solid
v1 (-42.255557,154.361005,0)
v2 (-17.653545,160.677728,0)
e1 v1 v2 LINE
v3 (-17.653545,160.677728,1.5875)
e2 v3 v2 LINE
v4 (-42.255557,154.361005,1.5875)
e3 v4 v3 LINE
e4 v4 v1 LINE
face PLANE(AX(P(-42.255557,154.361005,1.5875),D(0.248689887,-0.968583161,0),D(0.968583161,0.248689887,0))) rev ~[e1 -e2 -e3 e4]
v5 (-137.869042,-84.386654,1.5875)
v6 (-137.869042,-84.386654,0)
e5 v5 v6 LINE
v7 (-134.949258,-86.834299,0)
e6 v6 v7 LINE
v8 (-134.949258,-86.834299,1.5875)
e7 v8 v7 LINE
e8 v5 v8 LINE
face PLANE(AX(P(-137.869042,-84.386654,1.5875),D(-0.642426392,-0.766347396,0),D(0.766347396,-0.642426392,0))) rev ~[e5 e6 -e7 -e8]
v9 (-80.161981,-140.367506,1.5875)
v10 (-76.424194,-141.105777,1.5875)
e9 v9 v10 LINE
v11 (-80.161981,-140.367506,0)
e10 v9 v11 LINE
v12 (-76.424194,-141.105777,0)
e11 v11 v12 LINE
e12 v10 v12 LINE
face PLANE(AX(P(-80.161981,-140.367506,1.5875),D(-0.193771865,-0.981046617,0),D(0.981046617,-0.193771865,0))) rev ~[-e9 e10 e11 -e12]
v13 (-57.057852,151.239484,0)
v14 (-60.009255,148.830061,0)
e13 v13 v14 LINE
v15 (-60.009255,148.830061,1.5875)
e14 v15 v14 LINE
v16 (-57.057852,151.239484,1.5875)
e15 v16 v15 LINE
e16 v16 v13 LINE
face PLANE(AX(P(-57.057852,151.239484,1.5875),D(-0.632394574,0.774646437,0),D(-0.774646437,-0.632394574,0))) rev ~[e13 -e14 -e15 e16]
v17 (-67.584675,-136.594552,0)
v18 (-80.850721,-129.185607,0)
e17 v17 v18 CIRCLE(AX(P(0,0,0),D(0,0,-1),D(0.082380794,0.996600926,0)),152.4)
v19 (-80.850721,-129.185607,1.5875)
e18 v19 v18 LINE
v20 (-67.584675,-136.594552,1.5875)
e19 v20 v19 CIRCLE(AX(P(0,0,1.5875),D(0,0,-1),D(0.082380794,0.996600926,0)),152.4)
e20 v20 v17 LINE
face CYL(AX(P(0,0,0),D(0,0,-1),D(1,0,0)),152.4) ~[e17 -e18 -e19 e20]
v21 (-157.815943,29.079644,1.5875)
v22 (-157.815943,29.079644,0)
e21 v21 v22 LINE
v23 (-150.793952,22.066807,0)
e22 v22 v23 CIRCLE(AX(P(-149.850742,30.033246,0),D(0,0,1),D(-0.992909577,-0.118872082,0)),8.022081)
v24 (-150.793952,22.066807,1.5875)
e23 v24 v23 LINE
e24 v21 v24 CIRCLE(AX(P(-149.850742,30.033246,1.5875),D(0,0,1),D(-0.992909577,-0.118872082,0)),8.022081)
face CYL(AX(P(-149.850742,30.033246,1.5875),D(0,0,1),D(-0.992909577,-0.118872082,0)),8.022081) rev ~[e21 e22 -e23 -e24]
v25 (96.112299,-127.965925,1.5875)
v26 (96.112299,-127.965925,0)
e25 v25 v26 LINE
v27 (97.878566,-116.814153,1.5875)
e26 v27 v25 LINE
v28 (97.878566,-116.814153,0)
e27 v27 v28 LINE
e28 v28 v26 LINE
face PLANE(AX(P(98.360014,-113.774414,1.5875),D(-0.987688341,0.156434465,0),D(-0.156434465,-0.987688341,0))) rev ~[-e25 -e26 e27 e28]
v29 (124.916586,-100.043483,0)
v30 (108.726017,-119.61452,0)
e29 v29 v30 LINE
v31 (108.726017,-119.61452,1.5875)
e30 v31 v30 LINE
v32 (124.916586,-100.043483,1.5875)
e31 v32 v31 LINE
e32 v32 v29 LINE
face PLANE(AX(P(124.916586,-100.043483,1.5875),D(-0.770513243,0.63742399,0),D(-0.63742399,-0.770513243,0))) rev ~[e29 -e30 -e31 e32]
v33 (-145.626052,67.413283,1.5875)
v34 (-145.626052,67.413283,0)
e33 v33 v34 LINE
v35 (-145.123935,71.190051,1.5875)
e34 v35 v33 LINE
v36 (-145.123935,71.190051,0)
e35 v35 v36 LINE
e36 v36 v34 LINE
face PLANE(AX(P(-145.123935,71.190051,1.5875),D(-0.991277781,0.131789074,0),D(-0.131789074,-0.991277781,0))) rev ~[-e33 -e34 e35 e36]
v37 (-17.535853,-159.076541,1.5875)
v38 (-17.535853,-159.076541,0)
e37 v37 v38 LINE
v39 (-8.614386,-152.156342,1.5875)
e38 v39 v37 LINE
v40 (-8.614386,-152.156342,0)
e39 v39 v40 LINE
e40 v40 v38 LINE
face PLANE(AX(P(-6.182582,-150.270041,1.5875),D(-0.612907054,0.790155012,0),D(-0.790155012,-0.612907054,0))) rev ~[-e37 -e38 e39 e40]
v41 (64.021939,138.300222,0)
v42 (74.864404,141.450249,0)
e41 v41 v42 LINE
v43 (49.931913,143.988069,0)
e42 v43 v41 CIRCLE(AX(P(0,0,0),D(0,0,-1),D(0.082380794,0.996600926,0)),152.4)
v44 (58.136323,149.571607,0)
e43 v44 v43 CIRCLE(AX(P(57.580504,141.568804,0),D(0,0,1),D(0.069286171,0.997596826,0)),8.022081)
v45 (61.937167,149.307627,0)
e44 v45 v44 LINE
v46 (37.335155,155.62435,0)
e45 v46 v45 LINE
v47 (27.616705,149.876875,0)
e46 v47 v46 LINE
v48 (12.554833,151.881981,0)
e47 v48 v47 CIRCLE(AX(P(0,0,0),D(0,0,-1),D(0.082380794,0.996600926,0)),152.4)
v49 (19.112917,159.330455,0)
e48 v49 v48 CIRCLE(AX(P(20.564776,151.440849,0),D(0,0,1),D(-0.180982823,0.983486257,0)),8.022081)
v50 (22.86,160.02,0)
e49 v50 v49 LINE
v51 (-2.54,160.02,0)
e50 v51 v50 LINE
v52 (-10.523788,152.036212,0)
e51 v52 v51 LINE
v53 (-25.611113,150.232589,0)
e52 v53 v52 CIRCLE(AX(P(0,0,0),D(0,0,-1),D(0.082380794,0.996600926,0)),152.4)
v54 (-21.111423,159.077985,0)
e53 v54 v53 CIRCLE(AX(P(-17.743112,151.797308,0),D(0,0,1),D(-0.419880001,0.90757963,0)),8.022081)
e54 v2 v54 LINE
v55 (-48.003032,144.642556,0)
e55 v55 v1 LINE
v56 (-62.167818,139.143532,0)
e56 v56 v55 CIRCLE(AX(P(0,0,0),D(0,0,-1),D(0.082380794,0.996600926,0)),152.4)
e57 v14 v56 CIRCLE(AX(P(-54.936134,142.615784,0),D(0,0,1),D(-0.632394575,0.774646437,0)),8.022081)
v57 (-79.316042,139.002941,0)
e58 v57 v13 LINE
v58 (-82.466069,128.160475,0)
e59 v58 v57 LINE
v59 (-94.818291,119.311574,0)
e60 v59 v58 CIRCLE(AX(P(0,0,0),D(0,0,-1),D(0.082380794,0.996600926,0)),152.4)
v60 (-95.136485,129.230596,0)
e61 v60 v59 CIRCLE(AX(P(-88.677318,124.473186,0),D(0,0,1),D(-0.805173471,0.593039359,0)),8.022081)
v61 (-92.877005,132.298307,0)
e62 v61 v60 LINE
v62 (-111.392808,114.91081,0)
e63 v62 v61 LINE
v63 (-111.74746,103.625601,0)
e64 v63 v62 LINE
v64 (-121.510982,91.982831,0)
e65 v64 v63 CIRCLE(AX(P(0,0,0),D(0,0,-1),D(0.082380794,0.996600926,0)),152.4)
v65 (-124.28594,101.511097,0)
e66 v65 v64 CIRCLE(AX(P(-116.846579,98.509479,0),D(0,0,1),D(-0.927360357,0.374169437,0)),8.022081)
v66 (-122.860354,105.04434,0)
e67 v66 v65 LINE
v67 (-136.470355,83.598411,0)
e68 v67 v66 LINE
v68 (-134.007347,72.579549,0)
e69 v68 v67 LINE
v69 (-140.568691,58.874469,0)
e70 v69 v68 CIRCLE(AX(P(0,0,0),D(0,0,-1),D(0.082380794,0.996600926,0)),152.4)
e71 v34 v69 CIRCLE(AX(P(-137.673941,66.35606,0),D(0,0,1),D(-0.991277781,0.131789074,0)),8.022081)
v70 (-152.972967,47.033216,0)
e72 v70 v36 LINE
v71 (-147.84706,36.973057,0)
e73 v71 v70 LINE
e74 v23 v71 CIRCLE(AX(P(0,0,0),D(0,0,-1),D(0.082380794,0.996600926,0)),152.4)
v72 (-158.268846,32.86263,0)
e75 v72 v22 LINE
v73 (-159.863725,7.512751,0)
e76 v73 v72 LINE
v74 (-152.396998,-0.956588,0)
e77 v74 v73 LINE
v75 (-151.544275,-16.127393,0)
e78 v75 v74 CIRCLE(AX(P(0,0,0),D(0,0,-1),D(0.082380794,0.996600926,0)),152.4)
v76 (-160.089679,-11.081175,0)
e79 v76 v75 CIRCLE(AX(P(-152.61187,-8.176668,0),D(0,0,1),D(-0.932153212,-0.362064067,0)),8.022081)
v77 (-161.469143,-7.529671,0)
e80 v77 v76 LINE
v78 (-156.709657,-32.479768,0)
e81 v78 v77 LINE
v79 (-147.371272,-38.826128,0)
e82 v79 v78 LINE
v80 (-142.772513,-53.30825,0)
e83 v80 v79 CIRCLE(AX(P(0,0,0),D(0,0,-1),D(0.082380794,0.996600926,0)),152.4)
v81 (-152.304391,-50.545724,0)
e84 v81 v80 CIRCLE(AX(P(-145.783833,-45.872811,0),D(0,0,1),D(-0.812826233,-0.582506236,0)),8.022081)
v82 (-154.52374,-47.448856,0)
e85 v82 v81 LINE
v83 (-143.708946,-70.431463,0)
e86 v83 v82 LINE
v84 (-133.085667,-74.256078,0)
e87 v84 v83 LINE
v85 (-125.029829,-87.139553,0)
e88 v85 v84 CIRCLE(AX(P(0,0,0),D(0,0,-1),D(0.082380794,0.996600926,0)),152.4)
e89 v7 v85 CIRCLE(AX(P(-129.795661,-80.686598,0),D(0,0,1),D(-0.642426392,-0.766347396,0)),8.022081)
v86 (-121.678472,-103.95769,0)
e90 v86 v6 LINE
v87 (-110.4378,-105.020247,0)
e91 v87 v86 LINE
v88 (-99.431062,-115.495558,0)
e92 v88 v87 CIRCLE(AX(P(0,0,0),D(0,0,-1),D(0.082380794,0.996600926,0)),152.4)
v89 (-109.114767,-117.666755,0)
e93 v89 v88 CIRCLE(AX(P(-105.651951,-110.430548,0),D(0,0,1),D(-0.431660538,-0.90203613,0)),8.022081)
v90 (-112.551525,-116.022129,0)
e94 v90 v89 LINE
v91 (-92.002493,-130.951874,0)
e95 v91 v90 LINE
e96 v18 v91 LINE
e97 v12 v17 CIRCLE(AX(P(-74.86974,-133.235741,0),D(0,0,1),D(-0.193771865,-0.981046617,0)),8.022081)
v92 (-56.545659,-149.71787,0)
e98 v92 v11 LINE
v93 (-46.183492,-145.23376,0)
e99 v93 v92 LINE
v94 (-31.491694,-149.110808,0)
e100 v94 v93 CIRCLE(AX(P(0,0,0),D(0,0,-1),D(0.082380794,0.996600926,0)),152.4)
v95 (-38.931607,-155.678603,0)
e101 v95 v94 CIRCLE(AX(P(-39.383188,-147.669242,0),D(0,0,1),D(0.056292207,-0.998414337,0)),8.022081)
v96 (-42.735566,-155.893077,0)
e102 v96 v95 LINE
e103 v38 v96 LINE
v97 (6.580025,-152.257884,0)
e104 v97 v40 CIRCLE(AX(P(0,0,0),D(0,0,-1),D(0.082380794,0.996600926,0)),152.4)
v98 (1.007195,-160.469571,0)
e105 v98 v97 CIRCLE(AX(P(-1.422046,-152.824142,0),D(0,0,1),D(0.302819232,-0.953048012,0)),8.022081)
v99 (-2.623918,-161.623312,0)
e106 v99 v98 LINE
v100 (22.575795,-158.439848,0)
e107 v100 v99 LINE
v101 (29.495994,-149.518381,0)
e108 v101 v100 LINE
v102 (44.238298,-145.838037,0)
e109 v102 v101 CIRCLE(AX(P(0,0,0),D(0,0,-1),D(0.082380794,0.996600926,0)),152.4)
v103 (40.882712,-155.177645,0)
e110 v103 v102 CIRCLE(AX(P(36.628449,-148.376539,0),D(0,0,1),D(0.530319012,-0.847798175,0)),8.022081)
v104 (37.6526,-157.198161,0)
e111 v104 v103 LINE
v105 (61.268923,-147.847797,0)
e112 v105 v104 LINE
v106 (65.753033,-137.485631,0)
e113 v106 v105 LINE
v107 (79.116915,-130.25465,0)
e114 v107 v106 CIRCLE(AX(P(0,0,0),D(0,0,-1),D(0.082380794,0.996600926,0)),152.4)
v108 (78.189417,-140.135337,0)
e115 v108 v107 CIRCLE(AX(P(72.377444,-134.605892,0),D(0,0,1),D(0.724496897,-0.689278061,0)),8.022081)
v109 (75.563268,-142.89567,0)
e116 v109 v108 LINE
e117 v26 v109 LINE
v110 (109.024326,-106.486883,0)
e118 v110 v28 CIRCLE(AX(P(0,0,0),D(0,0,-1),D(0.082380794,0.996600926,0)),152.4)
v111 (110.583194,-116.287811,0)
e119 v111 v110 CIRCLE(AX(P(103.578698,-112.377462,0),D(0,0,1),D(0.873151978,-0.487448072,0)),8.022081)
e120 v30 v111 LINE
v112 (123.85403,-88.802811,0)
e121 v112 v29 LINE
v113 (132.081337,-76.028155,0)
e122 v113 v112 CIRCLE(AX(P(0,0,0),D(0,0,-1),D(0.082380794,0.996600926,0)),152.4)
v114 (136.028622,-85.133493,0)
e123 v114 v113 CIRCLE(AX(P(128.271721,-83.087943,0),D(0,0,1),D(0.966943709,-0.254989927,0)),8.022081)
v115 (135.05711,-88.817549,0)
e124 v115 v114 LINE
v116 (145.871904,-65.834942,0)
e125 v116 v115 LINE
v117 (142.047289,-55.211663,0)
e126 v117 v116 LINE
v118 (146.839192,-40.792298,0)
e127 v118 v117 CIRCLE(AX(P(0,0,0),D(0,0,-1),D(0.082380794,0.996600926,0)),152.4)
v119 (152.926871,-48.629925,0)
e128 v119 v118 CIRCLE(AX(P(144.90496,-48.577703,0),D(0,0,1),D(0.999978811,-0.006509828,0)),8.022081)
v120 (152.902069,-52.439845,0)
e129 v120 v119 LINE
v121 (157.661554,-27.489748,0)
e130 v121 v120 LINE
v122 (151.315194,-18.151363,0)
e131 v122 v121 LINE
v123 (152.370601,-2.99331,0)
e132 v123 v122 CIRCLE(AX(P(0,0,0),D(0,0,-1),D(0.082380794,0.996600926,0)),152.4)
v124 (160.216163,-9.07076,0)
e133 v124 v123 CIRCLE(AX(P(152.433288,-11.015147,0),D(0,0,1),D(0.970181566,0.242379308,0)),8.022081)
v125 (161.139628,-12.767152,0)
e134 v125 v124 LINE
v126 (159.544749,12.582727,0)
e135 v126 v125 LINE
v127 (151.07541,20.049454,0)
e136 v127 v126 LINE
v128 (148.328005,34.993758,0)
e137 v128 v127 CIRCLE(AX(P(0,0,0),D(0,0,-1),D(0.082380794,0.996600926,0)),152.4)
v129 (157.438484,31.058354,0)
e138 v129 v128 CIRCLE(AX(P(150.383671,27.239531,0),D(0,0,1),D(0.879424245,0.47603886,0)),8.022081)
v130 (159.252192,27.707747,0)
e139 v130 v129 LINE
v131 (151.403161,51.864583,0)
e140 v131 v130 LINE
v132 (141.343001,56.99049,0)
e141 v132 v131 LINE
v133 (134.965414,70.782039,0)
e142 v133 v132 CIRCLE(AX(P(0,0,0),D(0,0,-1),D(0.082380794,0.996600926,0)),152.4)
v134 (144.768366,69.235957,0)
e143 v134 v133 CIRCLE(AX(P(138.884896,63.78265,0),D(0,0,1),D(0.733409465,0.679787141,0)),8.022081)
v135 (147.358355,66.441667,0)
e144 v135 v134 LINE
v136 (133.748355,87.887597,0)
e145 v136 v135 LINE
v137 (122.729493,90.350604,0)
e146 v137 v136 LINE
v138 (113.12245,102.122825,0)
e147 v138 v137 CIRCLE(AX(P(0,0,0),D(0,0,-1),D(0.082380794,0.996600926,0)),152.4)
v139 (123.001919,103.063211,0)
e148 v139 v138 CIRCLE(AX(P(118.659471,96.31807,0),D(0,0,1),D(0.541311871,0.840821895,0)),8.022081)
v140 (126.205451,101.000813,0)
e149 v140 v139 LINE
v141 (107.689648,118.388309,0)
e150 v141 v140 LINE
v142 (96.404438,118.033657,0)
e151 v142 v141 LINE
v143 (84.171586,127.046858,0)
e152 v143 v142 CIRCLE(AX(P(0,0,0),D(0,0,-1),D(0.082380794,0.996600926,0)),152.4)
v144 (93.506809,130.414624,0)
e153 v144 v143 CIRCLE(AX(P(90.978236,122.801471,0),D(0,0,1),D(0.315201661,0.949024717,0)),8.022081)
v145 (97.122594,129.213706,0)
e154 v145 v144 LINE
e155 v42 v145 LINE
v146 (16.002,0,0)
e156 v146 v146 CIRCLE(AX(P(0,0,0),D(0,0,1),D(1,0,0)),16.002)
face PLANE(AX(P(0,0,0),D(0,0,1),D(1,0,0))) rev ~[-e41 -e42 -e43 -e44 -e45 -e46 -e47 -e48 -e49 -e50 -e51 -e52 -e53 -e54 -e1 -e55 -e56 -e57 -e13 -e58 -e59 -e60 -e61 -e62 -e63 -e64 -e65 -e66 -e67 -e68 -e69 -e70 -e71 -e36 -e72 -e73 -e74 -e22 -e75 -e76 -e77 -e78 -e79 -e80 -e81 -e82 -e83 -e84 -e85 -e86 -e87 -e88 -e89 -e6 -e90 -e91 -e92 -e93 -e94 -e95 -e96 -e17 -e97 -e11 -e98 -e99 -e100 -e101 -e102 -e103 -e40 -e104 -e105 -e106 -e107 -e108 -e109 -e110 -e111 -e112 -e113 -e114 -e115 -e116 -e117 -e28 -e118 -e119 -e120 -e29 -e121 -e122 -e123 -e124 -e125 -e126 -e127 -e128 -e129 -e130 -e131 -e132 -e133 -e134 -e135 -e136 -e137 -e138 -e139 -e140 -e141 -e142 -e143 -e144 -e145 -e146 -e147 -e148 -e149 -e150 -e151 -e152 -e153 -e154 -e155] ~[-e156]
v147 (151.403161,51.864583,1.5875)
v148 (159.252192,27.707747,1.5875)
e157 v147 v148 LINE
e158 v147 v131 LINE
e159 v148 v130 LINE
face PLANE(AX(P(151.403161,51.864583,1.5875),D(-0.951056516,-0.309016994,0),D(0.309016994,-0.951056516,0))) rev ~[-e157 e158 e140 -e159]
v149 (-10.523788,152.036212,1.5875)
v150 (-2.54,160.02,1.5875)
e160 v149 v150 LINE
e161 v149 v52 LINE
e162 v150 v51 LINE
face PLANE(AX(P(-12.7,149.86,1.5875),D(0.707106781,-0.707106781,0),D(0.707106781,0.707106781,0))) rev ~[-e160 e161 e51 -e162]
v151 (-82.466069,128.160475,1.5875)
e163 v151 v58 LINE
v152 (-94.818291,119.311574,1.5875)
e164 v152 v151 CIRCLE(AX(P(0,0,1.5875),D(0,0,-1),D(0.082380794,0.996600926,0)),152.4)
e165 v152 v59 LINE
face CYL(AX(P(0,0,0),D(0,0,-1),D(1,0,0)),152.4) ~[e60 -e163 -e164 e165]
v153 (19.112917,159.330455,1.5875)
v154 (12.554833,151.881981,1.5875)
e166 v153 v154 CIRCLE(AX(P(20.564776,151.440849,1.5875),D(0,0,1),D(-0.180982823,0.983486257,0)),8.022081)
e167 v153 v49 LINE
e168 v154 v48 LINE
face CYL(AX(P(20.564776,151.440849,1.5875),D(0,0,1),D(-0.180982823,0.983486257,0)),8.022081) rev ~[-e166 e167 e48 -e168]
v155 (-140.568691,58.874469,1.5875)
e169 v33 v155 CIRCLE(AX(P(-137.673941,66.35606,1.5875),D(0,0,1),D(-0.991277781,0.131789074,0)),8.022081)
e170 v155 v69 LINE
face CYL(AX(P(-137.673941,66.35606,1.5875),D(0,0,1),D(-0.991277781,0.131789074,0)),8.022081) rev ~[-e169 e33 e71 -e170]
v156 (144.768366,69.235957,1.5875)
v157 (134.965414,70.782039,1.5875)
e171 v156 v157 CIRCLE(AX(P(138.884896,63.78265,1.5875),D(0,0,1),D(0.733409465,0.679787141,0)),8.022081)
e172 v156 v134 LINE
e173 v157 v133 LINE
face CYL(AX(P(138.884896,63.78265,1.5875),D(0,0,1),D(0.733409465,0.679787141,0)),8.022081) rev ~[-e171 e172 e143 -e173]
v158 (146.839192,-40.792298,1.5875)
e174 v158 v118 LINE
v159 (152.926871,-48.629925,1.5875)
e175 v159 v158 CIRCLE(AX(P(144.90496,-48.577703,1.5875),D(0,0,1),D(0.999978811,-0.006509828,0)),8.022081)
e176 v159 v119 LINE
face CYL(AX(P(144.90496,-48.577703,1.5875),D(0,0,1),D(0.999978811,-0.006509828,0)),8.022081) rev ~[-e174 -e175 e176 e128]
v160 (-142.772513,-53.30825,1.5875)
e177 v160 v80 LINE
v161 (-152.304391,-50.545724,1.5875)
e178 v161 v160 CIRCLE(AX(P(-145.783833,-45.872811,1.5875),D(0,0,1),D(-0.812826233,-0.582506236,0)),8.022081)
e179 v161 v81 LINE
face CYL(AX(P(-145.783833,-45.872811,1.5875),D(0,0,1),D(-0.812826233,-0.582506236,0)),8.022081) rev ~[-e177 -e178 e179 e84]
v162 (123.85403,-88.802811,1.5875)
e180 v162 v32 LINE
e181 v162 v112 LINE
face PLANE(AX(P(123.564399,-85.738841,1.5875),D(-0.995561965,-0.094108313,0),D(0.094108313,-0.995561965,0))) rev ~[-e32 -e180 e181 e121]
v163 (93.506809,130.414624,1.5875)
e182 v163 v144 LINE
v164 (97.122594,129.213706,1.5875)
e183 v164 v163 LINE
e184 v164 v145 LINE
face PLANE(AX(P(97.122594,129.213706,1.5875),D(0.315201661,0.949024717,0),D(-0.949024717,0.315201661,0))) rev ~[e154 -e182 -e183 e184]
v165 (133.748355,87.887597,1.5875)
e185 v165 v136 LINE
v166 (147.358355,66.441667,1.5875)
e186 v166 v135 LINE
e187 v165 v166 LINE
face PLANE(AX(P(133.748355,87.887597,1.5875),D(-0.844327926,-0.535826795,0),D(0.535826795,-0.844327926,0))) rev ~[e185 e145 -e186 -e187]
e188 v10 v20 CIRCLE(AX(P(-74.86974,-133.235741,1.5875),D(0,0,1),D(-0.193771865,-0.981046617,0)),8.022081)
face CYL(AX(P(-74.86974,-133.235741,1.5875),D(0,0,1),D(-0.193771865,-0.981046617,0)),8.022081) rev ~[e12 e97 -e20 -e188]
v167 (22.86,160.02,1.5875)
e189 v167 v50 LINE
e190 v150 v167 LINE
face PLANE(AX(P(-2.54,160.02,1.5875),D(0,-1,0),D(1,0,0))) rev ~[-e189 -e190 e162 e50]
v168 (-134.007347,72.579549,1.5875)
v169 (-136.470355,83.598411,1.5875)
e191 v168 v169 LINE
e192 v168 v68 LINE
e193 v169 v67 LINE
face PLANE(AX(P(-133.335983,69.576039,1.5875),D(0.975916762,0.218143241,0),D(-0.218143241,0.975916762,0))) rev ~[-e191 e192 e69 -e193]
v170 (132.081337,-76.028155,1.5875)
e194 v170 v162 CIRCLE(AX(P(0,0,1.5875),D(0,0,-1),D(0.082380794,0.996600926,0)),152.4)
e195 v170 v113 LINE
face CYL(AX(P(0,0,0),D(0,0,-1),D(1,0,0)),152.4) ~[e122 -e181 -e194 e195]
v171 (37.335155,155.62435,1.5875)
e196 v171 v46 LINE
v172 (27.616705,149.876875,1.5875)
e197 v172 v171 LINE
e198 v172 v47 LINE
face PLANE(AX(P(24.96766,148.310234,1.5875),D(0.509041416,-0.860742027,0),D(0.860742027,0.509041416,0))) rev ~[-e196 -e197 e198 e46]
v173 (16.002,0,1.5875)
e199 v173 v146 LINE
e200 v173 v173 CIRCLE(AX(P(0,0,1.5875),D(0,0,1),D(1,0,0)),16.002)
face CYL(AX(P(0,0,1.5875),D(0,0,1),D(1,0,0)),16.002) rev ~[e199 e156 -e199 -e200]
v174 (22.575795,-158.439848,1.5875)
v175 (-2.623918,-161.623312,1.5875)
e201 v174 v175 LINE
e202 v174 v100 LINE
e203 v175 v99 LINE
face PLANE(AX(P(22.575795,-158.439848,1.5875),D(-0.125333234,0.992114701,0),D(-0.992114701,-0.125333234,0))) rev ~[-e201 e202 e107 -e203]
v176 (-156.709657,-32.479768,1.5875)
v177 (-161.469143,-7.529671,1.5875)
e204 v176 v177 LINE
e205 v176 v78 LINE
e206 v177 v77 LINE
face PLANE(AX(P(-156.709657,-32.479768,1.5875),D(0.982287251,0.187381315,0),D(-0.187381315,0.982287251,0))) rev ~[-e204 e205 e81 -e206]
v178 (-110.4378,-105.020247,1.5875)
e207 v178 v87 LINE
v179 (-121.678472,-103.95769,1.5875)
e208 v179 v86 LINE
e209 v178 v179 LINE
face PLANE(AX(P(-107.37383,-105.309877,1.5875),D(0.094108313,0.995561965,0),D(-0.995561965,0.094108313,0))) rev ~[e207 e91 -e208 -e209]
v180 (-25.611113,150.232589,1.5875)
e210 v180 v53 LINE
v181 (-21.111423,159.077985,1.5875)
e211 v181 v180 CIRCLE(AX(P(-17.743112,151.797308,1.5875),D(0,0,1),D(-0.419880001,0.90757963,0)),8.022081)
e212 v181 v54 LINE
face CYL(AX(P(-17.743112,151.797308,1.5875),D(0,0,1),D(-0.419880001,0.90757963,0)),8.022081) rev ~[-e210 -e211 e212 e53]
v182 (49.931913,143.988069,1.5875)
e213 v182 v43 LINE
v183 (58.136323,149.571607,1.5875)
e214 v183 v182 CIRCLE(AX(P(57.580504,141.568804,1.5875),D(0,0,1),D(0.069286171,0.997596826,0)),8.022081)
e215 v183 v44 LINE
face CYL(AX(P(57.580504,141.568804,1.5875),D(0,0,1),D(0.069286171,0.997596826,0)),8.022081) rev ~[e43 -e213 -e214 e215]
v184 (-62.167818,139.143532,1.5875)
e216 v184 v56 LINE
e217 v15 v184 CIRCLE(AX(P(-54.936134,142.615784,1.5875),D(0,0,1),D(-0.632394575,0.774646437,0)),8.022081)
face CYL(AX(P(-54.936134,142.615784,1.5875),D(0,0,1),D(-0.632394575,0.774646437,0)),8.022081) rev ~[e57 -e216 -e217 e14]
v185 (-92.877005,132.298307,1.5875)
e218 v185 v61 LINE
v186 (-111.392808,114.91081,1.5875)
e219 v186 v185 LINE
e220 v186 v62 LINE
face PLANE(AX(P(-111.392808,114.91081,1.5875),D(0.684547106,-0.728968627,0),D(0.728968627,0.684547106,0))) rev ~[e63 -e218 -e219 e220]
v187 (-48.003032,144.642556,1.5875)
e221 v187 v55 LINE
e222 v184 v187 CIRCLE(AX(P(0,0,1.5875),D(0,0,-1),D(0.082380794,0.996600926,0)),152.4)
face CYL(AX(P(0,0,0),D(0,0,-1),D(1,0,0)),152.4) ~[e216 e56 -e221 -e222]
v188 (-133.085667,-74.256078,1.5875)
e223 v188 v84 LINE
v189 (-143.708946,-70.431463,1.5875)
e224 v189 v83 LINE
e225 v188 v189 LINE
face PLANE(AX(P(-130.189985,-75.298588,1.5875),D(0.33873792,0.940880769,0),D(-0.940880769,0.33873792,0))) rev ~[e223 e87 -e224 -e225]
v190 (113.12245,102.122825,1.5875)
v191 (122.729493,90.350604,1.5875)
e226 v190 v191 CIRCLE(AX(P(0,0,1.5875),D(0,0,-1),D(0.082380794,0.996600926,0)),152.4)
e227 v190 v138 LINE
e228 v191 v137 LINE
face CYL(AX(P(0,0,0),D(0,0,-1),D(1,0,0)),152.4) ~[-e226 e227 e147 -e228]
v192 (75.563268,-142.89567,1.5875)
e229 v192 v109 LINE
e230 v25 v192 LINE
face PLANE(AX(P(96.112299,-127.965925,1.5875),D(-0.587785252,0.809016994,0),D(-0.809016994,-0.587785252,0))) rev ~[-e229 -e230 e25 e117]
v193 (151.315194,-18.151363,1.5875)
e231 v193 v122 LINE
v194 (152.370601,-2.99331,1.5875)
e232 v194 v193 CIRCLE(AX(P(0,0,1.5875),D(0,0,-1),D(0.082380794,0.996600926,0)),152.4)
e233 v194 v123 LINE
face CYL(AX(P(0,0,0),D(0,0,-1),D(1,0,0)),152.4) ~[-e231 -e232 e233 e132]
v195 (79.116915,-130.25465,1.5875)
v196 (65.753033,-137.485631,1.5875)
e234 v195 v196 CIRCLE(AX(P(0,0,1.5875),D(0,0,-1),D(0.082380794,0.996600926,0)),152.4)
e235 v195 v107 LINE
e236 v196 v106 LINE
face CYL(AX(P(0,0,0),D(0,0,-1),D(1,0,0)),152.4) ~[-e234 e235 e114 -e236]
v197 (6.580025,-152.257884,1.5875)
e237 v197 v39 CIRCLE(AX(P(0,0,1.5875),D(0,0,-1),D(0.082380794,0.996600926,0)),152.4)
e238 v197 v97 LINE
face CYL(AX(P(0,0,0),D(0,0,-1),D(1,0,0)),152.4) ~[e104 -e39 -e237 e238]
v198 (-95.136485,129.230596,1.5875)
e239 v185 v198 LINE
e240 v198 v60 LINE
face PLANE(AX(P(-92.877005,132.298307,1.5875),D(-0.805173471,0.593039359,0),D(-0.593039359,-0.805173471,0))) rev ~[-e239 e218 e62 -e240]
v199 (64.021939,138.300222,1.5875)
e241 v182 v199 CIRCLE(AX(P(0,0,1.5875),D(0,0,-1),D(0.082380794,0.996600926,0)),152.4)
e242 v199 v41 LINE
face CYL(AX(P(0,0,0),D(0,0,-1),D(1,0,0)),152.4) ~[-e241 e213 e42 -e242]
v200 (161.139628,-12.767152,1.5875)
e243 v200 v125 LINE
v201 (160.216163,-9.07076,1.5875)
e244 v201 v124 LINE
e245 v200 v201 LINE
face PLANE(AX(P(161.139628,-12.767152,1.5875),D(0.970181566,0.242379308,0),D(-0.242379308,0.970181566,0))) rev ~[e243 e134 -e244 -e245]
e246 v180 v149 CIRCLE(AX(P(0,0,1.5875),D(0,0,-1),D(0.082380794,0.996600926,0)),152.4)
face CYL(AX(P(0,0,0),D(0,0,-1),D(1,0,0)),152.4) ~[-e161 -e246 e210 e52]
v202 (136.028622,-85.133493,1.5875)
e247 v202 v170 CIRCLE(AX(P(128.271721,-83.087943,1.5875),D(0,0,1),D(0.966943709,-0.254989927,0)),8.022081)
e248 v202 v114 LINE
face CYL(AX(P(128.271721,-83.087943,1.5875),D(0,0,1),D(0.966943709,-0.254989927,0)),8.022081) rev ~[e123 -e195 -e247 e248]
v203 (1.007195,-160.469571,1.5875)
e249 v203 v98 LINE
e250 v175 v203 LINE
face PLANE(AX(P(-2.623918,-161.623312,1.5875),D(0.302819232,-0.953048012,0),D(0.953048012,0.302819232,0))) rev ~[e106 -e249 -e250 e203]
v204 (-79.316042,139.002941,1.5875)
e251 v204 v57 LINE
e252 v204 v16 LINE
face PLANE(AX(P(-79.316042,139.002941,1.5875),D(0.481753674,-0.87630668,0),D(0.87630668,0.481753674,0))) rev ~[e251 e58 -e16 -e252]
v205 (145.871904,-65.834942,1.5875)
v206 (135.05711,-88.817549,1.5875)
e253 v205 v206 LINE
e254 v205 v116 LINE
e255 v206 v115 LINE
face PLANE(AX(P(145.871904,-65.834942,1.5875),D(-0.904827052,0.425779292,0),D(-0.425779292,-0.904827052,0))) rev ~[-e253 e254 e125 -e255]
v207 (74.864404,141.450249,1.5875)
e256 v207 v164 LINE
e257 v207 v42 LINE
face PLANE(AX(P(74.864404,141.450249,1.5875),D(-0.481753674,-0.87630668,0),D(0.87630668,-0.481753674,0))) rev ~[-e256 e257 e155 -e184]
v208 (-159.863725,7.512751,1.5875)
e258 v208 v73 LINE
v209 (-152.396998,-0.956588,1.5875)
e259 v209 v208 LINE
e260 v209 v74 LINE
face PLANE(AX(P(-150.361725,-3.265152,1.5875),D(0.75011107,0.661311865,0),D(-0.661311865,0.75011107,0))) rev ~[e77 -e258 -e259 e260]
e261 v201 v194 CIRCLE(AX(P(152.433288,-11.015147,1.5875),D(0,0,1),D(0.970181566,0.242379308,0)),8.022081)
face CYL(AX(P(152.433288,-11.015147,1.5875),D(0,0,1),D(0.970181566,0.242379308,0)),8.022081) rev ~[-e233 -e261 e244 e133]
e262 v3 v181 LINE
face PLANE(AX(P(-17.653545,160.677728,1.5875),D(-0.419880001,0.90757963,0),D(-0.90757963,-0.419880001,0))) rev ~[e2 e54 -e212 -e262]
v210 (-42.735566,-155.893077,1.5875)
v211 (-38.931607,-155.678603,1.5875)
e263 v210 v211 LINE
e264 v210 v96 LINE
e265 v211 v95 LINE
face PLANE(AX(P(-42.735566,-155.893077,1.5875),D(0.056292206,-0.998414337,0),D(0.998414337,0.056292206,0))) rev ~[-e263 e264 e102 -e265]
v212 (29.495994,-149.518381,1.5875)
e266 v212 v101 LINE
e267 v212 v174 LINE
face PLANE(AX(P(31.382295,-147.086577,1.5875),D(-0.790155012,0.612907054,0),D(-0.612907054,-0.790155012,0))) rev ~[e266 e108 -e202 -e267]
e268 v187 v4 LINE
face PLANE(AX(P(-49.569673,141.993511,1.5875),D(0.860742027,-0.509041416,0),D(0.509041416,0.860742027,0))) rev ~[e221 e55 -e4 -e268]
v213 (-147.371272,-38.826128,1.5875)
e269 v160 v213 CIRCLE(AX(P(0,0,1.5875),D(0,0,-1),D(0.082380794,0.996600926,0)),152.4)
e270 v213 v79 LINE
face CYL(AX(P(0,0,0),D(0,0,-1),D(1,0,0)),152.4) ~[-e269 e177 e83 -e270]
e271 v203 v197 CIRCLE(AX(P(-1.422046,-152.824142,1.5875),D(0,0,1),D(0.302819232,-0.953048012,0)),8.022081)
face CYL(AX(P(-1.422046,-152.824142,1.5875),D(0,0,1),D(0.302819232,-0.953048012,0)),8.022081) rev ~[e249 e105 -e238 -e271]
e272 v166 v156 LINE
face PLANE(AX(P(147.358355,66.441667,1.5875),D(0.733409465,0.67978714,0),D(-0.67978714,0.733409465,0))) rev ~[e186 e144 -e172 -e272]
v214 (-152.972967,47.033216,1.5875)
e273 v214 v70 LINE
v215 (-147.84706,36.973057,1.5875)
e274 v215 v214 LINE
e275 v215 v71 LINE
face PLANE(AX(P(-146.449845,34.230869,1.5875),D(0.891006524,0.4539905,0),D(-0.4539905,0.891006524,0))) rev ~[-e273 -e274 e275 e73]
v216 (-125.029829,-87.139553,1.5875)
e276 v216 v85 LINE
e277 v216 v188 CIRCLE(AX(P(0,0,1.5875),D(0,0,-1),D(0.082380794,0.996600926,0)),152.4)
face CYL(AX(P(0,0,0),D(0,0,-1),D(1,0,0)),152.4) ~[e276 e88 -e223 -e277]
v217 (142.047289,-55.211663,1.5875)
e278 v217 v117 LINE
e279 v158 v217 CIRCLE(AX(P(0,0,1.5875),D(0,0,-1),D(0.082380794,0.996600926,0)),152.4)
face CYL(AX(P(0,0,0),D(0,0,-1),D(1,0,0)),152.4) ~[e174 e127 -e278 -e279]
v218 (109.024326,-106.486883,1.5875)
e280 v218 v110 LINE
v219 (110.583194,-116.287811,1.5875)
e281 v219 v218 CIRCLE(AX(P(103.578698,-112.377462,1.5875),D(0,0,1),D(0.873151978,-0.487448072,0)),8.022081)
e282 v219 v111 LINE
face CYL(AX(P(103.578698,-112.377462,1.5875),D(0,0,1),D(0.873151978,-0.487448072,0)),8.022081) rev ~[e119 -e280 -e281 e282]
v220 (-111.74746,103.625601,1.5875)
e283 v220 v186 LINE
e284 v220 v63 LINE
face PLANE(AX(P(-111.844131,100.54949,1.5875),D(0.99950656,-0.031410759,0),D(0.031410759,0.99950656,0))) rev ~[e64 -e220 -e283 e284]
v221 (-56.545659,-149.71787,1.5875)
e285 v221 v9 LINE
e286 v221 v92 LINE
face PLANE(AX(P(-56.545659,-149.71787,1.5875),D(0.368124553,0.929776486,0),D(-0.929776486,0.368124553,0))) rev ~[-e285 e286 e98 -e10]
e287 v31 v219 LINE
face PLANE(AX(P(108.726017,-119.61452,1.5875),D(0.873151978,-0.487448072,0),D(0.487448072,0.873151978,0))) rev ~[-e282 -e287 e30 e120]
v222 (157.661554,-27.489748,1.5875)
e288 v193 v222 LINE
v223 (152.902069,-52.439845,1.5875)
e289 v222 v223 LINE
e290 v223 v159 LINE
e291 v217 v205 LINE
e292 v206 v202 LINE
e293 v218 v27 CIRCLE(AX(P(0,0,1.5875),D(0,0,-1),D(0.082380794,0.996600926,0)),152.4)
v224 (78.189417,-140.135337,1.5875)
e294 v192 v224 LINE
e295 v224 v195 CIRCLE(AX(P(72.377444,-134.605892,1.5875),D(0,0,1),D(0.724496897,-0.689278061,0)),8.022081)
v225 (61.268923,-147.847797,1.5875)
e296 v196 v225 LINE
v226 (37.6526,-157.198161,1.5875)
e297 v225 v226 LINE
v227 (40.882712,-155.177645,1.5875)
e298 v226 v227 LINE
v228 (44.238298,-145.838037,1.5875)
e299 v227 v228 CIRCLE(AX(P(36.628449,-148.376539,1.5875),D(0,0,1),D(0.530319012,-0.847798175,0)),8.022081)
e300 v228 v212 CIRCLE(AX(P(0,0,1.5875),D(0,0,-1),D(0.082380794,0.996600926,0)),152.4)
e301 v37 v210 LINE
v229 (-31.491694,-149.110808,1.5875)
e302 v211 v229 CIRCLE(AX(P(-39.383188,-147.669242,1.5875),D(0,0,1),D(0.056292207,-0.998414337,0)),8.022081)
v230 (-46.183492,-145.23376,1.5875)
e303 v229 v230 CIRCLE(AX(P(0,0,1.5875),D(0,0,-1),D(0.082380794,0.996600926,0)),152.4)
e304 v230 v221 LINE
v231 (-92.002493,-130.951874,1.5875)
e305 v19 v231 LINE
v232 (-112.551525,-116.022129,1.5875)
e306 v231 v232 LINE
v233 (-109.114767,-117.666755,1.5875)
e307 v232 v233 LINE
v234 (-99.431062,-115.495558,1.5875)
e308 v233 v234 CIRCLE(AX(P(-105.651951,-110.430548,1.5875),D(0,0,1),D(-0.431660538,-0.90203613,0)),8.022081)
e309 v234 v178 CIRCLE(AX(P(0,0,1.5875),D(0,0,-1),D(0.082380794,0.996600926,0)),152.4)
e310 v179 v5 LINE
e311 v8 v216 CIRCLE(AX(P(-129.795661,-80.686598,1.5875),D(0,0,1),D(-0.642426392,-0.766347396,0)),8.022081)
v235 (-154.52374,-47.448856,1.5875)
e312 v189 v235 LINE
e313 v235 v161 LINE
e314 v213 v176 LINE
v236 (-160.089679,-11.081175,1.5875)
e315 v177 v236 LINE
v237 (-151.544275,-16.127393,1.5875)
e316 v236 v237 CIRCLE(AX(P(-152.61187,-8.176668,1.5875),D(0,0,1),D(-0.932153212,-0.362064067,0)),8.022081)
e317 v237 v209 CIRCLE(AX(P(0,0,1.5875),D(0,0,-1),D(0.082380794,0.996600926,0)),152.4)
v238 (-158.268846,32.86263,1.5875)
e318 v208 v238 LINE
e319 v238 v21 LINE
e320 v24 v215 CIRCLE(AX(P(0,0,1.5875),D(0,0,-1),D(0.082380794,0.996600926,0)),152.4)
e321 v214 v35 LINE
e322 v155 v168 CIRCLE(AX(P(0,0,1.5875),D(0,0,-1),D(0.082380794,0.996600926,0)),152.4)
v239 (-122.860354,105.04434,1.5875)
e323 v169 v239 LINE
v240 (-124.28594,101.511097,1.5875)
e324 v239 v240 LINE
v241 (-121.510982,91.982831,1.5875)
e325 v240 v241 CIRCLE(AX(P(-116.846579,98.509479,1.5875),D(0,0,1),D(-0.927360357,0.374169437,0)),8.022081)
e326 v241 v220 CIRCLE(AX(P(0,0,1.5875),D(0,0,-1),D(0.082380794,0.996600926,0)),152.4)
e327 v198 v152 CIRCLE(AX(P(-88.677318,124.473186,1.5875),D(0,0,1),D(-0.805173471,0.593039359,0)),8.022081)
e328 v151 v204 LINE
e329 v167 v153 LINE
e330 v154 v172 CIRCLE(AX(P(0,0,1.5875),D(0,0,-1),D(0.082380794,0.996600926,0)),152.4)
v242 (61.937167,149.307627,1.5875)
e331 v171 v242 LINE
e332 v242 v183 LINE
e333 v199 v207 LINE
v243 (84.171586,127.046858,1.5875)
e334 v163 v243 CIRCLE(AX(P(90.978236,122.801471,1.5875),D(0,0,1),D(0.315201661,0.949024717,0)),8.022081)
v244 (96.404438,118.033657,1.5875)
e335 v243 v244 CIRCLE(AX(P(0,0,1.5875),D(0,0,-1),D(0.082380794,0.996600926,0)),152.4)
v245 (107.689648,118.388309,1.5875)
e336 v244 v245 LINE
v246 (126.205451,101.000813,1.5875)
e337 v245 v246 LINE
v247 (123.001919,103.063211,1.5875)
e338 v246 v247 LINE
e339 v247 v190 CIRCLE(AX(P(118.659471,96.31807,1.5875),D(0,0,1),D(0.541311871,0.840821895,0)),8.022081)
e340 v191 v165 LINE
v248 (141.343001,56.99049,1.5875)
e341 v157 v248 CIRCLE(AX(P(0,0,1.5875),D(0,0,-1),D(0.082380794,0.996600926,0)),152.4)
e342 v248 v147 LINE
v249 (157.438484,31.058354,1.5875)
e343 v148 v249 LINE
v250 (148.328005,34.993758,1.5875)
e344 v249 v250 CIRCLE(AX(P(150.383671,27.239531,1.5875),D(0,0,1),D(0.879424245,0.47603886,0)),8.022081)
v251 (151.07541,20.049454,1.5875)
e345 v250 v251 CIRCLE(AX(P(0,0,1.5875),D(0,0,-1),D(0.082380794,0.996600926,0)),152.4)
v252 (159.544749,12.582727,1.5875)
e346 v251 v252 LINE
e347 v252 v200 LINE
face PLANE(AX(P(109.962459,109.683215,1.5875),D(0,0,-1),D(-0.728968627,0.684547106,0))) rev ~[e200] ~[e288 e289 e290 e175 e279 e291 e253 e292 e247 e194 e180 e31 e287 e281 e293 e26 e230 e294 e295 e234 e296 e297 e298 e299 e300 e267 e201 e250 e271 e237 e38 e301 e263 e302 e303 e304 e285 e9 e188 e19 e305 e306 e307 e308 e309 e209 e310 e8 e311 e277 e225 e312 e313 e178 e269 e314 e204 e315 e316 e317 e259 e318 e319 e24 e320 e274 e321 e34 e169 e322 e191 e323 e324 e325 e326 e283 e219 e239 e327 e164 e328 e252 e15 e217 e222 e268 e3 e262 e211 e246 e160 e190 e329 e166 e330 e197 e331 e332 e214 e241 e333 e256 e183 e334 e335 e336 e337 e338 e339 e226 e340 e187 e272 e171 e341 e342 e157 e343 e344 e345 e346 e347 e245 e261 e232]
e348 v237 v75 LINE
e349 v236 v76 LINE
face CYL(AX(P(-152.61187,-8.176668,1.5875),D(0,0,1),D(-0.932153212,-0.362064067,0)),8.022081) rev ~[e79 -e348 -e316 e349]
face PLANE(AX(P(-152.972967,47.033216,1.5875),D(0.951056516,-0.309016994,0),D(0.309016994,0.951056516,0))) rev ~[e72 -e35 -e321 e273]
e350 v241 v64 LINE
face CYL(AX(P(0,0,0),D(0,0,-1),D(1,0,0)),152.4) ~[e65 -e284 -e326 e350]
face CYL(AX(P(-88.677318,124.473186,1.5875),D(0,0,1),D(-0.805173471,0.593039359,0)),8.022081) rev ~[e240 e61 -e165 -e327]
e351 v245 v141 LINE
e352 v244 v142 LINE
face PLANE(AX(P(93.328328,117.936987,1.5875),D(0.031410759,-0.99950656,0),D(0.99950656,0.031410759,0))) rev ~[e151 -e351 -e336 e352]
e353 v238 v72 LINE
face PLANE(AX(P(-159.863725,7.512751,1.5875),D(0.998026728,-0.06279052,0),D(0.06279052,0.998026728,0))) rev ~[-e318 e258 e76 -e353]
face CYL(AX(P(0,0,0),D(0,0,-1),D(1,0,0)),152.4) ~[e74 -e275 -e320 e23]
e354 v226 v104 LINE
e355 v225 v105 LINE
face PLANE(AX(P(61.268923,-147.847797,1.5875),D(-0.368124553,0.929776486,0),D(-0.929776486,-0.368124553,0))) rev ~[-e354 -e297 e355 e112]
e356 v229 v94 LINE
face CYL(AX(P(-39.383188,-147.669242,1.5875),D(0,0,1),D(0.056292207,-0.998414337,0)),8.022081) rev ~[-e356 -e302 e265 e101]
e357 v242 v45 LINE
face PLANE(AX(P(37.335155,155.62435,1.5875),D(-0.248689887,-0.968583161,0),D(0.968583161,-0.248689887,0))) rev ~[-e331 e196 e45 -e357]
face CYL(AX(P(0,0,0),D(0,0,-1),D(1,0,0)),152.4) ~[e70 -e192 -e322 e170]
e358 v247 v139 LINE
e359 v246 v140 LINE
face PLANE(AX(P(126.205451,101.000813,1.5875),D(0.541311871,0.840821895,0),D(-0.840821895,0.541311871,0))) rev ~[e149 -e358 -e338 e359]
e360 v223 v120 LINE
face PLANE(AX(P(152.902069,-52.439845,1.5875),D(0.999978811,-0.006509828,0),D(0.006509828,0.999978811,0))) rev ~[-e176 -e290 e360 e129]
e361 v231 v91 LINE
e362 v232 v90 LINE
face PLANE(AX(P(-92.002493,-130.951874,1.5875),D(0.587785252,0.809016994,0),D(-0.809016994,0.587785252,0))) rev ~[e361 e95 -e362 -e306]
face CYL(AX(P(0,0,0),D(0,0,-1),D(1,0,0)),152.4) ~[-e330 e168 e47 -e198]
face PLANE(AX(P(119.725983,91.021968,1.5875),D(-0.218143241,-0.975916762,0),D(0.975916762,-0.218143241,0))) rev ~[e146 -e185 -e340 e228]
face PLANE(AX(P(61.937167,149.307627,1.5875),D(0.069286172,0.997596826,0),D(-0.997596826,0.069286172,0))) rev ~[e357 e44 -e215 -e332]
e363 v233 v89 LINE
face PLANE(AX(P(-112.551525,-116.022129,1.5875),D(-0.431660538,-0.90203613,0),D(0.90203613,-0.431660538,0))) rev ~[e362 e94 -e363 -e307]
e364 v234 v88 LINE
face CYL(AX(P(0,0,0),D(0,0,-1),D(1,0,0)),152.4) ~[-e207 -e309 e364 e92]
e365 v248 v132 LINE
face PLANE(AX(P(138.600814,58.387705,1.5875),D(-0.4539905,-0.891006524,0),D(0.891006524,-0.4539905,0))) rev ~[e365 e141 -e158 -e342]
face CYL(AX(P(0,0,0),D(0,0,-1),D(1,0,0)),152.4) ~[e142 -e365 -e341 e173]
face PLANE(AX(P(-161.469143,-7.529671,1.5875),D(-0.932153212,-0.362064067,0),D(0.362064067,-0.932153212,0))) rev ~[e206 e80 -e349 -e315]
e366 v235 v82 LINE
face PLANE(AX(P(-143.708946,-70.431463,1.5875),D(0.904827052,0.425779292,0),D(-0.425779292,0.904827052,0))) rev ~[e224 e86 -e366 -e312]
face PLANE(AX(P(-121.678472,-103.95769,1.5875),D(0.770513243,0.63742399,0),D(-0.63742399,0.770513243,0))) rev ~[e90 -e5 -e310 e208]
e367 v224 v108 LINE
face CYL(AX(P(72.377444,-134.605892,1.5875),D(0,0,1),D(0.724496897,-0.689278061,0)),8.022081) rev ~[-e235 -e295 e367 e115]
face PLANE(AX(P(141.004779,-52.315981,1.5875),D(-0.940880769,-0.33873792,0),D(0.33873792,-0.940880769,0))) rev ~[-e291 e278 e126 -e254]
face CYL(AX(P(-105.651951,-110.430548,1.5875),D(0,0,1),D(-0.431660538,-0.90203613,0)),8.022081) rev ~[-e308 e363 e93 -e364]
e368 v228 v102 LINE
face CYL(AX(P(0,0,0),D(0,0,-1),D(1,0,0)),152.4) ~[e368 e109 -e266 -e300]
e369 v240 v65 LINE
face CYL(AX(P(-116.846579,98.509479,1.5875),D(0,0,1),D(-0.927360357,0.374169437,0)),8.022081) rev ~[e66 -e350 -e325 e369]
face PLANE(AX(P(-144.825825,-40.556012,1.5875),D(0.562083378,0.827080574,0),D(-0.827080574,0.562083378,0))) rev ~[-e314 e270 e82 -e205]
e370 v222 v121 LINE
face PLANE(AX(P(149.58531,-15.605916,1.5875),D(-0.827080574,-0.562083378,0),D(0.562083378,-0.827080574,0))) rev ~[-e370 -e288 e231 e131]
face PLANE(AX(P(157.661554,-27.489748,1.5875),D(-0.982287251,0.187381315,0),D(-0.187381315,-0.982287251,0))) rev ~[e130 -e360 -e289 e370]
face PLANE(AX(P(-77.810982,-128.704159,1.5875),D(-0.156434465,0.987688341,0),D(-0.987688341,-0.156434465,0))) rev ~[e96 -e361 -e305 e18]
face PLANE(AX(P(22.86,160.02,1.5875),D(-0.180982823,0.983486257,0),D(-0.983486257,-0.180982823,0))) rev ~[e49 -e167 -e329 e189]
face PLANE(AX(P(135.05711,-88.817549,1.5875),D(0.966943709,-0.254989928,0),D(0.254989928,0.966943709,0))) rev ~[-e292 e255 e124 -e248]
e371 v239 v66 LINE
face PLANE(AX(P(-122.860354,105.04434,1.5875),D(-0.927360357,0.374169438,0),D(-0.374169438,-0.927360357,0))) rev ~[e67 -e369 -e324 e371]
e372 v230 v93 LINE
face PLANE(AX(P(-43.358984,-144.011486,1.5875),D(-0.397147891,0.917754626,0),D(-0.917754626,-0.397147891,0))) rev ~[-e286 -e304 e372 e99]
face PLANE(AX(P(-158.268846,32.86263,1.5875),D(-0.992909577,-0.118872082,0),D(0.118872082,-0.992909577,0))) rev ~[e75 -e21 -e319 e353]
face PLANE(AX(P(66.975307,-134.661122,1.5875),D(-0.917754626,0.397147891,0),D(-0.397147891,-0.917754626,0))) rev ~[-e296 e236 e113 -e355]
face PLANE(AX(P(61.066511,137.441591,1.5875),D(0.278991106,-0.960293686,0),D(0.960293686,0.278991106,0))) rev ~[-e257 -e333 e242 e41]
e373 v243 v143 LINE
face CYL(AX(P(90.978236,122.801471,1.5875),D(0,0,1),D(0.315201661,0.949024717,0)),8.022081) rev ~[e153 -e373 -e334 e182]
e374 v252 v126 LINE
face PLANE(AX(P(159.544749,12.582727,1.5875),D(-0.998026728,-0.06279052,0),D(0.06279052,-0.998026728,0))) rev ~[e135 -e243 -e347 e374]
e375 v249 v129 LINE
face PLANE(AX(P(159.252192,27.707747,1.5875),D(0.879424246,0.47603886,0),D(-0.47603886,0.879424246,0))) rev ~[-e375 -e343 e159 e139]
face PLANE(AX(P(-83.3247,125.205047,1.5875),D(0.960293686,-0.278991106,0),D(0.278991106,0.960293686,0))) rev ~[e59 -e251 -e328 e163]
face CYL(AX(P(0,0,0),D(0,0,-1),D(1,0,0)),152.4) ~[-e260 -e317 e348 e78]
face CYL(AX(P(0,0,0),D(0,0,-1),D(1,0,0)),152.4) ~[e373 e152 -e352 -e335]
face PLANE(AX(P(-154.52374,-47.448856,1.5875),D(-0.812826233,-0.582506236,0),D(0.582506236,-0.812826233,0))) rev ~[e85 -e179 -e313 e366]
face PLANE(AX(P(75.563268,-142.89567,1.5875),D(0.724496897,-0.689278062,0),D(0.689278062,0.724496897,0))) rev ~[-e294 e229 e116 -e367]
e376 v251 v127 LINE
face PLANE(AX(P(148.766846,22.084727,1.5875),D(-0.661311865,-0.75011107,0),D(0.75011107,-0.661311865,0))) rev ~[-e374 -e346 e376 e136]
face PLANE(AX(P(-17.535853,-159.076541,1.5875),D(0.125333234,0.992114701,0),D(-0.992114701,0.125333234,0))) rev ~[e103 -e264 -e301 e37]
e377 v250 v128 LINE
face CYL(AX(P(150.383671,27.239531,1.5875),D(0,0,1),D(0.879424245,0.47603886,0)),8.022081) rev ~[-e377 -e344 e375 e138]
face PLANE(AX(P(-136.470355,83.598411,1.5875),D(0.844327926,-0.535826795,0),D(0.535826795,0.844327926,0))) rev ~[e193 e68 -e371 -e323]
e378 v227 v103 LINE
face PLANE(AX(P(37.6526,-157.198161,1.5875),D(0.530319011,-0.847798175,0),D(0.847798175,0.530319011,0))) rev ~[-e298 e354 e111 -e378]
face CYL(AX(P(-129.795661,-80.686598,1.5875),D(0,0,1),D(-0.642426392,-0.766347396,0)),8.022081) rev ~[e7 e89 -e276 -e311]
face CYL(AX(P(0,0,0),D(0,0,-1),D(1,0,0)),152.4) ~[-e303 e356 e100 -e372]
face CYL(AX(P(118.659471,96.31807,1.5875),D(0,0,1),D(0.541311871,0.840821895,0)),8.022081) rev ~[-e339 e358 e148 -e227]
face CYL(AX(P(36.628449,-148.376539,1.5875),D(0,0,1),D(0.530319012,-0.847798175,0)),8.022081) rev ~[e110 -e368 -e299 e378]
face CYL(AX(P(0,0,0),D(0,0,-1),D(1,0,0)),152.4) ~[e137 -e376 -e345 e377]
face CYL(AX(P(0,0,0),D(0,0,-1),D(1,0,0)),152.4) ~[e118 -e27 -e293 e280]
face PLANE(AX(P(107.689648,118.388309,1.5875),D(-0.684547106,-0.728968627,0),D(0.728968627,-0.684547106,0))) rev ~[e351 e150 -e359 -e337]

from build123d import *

# Parameters (mm, degrees)
SKETCH1_R           = 152.4
BOSS_EXTRUDE1_DEPTH = 1.5875
CUT_EXTRUDE1_REACH  = 217.532
SKETCH2_R           = 16.002
BOSS_EXTRUDE2_DEPTH = 1.5875
CIRPATTERN1_COUNT   = 25


with BuildPart() as part:
    # Sketch1 → Boss-Extrude1 (new body)
    with BuildSketch(Plane.XY):
        Circle(SKETCH1_R)
    extrude(amount=BOSS_EXTRUDE1_DEPTH)

    # Sketch2 → Cut-Extrude1 (cut, up to next)
    with BuildSketch(Plane.XY.offset(1.5875), mode=Mode.PRIVATE) as cut_extrude1_sk1:
        Circle(SKETCH2_R)
    cut_extrude1_tool1 = extrude(cut_extrude1_sk1.sketch, amount=-CUT_EXTRUDE1_REACH, mode=Mode.PRIVATE) & part.part
    add(cut_extrude1_tool1.solids().sort_by_distance((0, 0, 1.5875))[0], mode=Mode.SUBTRACT)

    # Sketch4 → Boss-Extrude2 (add)
    with BuildSketch(Plane.XY.offset(1.5875)):
        with BuildLine():
            Line((-12.7, 149.86), (-2.54, 160.02))
            Line((-2.54, 160.02), (22.86, 160.02))
            Line((22.86, 160.02), (19.112917361, 159.330455445))
            ThreePointArc((19.112917361, 159.330455445), (13.922314054, 155.938790933), (12.7, 149.86))
            Line((12.7, 149.86), (-12.7, 149.86))
        make_face()
    boss_extrude2 = extrude(amount=-BOSS_EXTRUDE2_DEPTH)

    # CirPattern1: Boss-Extrude2 ×25 about axis
    cirpattern1_axis = Axis((0, 0, 0), (0, 0, 1))
    for i in range(1, CIRPATTERN1_COUNT):
        add(boss_extrude2.rotate(cirpattern1_axis, i * 360 / CIRPATTERN1_COUNT))


solid = part.part
